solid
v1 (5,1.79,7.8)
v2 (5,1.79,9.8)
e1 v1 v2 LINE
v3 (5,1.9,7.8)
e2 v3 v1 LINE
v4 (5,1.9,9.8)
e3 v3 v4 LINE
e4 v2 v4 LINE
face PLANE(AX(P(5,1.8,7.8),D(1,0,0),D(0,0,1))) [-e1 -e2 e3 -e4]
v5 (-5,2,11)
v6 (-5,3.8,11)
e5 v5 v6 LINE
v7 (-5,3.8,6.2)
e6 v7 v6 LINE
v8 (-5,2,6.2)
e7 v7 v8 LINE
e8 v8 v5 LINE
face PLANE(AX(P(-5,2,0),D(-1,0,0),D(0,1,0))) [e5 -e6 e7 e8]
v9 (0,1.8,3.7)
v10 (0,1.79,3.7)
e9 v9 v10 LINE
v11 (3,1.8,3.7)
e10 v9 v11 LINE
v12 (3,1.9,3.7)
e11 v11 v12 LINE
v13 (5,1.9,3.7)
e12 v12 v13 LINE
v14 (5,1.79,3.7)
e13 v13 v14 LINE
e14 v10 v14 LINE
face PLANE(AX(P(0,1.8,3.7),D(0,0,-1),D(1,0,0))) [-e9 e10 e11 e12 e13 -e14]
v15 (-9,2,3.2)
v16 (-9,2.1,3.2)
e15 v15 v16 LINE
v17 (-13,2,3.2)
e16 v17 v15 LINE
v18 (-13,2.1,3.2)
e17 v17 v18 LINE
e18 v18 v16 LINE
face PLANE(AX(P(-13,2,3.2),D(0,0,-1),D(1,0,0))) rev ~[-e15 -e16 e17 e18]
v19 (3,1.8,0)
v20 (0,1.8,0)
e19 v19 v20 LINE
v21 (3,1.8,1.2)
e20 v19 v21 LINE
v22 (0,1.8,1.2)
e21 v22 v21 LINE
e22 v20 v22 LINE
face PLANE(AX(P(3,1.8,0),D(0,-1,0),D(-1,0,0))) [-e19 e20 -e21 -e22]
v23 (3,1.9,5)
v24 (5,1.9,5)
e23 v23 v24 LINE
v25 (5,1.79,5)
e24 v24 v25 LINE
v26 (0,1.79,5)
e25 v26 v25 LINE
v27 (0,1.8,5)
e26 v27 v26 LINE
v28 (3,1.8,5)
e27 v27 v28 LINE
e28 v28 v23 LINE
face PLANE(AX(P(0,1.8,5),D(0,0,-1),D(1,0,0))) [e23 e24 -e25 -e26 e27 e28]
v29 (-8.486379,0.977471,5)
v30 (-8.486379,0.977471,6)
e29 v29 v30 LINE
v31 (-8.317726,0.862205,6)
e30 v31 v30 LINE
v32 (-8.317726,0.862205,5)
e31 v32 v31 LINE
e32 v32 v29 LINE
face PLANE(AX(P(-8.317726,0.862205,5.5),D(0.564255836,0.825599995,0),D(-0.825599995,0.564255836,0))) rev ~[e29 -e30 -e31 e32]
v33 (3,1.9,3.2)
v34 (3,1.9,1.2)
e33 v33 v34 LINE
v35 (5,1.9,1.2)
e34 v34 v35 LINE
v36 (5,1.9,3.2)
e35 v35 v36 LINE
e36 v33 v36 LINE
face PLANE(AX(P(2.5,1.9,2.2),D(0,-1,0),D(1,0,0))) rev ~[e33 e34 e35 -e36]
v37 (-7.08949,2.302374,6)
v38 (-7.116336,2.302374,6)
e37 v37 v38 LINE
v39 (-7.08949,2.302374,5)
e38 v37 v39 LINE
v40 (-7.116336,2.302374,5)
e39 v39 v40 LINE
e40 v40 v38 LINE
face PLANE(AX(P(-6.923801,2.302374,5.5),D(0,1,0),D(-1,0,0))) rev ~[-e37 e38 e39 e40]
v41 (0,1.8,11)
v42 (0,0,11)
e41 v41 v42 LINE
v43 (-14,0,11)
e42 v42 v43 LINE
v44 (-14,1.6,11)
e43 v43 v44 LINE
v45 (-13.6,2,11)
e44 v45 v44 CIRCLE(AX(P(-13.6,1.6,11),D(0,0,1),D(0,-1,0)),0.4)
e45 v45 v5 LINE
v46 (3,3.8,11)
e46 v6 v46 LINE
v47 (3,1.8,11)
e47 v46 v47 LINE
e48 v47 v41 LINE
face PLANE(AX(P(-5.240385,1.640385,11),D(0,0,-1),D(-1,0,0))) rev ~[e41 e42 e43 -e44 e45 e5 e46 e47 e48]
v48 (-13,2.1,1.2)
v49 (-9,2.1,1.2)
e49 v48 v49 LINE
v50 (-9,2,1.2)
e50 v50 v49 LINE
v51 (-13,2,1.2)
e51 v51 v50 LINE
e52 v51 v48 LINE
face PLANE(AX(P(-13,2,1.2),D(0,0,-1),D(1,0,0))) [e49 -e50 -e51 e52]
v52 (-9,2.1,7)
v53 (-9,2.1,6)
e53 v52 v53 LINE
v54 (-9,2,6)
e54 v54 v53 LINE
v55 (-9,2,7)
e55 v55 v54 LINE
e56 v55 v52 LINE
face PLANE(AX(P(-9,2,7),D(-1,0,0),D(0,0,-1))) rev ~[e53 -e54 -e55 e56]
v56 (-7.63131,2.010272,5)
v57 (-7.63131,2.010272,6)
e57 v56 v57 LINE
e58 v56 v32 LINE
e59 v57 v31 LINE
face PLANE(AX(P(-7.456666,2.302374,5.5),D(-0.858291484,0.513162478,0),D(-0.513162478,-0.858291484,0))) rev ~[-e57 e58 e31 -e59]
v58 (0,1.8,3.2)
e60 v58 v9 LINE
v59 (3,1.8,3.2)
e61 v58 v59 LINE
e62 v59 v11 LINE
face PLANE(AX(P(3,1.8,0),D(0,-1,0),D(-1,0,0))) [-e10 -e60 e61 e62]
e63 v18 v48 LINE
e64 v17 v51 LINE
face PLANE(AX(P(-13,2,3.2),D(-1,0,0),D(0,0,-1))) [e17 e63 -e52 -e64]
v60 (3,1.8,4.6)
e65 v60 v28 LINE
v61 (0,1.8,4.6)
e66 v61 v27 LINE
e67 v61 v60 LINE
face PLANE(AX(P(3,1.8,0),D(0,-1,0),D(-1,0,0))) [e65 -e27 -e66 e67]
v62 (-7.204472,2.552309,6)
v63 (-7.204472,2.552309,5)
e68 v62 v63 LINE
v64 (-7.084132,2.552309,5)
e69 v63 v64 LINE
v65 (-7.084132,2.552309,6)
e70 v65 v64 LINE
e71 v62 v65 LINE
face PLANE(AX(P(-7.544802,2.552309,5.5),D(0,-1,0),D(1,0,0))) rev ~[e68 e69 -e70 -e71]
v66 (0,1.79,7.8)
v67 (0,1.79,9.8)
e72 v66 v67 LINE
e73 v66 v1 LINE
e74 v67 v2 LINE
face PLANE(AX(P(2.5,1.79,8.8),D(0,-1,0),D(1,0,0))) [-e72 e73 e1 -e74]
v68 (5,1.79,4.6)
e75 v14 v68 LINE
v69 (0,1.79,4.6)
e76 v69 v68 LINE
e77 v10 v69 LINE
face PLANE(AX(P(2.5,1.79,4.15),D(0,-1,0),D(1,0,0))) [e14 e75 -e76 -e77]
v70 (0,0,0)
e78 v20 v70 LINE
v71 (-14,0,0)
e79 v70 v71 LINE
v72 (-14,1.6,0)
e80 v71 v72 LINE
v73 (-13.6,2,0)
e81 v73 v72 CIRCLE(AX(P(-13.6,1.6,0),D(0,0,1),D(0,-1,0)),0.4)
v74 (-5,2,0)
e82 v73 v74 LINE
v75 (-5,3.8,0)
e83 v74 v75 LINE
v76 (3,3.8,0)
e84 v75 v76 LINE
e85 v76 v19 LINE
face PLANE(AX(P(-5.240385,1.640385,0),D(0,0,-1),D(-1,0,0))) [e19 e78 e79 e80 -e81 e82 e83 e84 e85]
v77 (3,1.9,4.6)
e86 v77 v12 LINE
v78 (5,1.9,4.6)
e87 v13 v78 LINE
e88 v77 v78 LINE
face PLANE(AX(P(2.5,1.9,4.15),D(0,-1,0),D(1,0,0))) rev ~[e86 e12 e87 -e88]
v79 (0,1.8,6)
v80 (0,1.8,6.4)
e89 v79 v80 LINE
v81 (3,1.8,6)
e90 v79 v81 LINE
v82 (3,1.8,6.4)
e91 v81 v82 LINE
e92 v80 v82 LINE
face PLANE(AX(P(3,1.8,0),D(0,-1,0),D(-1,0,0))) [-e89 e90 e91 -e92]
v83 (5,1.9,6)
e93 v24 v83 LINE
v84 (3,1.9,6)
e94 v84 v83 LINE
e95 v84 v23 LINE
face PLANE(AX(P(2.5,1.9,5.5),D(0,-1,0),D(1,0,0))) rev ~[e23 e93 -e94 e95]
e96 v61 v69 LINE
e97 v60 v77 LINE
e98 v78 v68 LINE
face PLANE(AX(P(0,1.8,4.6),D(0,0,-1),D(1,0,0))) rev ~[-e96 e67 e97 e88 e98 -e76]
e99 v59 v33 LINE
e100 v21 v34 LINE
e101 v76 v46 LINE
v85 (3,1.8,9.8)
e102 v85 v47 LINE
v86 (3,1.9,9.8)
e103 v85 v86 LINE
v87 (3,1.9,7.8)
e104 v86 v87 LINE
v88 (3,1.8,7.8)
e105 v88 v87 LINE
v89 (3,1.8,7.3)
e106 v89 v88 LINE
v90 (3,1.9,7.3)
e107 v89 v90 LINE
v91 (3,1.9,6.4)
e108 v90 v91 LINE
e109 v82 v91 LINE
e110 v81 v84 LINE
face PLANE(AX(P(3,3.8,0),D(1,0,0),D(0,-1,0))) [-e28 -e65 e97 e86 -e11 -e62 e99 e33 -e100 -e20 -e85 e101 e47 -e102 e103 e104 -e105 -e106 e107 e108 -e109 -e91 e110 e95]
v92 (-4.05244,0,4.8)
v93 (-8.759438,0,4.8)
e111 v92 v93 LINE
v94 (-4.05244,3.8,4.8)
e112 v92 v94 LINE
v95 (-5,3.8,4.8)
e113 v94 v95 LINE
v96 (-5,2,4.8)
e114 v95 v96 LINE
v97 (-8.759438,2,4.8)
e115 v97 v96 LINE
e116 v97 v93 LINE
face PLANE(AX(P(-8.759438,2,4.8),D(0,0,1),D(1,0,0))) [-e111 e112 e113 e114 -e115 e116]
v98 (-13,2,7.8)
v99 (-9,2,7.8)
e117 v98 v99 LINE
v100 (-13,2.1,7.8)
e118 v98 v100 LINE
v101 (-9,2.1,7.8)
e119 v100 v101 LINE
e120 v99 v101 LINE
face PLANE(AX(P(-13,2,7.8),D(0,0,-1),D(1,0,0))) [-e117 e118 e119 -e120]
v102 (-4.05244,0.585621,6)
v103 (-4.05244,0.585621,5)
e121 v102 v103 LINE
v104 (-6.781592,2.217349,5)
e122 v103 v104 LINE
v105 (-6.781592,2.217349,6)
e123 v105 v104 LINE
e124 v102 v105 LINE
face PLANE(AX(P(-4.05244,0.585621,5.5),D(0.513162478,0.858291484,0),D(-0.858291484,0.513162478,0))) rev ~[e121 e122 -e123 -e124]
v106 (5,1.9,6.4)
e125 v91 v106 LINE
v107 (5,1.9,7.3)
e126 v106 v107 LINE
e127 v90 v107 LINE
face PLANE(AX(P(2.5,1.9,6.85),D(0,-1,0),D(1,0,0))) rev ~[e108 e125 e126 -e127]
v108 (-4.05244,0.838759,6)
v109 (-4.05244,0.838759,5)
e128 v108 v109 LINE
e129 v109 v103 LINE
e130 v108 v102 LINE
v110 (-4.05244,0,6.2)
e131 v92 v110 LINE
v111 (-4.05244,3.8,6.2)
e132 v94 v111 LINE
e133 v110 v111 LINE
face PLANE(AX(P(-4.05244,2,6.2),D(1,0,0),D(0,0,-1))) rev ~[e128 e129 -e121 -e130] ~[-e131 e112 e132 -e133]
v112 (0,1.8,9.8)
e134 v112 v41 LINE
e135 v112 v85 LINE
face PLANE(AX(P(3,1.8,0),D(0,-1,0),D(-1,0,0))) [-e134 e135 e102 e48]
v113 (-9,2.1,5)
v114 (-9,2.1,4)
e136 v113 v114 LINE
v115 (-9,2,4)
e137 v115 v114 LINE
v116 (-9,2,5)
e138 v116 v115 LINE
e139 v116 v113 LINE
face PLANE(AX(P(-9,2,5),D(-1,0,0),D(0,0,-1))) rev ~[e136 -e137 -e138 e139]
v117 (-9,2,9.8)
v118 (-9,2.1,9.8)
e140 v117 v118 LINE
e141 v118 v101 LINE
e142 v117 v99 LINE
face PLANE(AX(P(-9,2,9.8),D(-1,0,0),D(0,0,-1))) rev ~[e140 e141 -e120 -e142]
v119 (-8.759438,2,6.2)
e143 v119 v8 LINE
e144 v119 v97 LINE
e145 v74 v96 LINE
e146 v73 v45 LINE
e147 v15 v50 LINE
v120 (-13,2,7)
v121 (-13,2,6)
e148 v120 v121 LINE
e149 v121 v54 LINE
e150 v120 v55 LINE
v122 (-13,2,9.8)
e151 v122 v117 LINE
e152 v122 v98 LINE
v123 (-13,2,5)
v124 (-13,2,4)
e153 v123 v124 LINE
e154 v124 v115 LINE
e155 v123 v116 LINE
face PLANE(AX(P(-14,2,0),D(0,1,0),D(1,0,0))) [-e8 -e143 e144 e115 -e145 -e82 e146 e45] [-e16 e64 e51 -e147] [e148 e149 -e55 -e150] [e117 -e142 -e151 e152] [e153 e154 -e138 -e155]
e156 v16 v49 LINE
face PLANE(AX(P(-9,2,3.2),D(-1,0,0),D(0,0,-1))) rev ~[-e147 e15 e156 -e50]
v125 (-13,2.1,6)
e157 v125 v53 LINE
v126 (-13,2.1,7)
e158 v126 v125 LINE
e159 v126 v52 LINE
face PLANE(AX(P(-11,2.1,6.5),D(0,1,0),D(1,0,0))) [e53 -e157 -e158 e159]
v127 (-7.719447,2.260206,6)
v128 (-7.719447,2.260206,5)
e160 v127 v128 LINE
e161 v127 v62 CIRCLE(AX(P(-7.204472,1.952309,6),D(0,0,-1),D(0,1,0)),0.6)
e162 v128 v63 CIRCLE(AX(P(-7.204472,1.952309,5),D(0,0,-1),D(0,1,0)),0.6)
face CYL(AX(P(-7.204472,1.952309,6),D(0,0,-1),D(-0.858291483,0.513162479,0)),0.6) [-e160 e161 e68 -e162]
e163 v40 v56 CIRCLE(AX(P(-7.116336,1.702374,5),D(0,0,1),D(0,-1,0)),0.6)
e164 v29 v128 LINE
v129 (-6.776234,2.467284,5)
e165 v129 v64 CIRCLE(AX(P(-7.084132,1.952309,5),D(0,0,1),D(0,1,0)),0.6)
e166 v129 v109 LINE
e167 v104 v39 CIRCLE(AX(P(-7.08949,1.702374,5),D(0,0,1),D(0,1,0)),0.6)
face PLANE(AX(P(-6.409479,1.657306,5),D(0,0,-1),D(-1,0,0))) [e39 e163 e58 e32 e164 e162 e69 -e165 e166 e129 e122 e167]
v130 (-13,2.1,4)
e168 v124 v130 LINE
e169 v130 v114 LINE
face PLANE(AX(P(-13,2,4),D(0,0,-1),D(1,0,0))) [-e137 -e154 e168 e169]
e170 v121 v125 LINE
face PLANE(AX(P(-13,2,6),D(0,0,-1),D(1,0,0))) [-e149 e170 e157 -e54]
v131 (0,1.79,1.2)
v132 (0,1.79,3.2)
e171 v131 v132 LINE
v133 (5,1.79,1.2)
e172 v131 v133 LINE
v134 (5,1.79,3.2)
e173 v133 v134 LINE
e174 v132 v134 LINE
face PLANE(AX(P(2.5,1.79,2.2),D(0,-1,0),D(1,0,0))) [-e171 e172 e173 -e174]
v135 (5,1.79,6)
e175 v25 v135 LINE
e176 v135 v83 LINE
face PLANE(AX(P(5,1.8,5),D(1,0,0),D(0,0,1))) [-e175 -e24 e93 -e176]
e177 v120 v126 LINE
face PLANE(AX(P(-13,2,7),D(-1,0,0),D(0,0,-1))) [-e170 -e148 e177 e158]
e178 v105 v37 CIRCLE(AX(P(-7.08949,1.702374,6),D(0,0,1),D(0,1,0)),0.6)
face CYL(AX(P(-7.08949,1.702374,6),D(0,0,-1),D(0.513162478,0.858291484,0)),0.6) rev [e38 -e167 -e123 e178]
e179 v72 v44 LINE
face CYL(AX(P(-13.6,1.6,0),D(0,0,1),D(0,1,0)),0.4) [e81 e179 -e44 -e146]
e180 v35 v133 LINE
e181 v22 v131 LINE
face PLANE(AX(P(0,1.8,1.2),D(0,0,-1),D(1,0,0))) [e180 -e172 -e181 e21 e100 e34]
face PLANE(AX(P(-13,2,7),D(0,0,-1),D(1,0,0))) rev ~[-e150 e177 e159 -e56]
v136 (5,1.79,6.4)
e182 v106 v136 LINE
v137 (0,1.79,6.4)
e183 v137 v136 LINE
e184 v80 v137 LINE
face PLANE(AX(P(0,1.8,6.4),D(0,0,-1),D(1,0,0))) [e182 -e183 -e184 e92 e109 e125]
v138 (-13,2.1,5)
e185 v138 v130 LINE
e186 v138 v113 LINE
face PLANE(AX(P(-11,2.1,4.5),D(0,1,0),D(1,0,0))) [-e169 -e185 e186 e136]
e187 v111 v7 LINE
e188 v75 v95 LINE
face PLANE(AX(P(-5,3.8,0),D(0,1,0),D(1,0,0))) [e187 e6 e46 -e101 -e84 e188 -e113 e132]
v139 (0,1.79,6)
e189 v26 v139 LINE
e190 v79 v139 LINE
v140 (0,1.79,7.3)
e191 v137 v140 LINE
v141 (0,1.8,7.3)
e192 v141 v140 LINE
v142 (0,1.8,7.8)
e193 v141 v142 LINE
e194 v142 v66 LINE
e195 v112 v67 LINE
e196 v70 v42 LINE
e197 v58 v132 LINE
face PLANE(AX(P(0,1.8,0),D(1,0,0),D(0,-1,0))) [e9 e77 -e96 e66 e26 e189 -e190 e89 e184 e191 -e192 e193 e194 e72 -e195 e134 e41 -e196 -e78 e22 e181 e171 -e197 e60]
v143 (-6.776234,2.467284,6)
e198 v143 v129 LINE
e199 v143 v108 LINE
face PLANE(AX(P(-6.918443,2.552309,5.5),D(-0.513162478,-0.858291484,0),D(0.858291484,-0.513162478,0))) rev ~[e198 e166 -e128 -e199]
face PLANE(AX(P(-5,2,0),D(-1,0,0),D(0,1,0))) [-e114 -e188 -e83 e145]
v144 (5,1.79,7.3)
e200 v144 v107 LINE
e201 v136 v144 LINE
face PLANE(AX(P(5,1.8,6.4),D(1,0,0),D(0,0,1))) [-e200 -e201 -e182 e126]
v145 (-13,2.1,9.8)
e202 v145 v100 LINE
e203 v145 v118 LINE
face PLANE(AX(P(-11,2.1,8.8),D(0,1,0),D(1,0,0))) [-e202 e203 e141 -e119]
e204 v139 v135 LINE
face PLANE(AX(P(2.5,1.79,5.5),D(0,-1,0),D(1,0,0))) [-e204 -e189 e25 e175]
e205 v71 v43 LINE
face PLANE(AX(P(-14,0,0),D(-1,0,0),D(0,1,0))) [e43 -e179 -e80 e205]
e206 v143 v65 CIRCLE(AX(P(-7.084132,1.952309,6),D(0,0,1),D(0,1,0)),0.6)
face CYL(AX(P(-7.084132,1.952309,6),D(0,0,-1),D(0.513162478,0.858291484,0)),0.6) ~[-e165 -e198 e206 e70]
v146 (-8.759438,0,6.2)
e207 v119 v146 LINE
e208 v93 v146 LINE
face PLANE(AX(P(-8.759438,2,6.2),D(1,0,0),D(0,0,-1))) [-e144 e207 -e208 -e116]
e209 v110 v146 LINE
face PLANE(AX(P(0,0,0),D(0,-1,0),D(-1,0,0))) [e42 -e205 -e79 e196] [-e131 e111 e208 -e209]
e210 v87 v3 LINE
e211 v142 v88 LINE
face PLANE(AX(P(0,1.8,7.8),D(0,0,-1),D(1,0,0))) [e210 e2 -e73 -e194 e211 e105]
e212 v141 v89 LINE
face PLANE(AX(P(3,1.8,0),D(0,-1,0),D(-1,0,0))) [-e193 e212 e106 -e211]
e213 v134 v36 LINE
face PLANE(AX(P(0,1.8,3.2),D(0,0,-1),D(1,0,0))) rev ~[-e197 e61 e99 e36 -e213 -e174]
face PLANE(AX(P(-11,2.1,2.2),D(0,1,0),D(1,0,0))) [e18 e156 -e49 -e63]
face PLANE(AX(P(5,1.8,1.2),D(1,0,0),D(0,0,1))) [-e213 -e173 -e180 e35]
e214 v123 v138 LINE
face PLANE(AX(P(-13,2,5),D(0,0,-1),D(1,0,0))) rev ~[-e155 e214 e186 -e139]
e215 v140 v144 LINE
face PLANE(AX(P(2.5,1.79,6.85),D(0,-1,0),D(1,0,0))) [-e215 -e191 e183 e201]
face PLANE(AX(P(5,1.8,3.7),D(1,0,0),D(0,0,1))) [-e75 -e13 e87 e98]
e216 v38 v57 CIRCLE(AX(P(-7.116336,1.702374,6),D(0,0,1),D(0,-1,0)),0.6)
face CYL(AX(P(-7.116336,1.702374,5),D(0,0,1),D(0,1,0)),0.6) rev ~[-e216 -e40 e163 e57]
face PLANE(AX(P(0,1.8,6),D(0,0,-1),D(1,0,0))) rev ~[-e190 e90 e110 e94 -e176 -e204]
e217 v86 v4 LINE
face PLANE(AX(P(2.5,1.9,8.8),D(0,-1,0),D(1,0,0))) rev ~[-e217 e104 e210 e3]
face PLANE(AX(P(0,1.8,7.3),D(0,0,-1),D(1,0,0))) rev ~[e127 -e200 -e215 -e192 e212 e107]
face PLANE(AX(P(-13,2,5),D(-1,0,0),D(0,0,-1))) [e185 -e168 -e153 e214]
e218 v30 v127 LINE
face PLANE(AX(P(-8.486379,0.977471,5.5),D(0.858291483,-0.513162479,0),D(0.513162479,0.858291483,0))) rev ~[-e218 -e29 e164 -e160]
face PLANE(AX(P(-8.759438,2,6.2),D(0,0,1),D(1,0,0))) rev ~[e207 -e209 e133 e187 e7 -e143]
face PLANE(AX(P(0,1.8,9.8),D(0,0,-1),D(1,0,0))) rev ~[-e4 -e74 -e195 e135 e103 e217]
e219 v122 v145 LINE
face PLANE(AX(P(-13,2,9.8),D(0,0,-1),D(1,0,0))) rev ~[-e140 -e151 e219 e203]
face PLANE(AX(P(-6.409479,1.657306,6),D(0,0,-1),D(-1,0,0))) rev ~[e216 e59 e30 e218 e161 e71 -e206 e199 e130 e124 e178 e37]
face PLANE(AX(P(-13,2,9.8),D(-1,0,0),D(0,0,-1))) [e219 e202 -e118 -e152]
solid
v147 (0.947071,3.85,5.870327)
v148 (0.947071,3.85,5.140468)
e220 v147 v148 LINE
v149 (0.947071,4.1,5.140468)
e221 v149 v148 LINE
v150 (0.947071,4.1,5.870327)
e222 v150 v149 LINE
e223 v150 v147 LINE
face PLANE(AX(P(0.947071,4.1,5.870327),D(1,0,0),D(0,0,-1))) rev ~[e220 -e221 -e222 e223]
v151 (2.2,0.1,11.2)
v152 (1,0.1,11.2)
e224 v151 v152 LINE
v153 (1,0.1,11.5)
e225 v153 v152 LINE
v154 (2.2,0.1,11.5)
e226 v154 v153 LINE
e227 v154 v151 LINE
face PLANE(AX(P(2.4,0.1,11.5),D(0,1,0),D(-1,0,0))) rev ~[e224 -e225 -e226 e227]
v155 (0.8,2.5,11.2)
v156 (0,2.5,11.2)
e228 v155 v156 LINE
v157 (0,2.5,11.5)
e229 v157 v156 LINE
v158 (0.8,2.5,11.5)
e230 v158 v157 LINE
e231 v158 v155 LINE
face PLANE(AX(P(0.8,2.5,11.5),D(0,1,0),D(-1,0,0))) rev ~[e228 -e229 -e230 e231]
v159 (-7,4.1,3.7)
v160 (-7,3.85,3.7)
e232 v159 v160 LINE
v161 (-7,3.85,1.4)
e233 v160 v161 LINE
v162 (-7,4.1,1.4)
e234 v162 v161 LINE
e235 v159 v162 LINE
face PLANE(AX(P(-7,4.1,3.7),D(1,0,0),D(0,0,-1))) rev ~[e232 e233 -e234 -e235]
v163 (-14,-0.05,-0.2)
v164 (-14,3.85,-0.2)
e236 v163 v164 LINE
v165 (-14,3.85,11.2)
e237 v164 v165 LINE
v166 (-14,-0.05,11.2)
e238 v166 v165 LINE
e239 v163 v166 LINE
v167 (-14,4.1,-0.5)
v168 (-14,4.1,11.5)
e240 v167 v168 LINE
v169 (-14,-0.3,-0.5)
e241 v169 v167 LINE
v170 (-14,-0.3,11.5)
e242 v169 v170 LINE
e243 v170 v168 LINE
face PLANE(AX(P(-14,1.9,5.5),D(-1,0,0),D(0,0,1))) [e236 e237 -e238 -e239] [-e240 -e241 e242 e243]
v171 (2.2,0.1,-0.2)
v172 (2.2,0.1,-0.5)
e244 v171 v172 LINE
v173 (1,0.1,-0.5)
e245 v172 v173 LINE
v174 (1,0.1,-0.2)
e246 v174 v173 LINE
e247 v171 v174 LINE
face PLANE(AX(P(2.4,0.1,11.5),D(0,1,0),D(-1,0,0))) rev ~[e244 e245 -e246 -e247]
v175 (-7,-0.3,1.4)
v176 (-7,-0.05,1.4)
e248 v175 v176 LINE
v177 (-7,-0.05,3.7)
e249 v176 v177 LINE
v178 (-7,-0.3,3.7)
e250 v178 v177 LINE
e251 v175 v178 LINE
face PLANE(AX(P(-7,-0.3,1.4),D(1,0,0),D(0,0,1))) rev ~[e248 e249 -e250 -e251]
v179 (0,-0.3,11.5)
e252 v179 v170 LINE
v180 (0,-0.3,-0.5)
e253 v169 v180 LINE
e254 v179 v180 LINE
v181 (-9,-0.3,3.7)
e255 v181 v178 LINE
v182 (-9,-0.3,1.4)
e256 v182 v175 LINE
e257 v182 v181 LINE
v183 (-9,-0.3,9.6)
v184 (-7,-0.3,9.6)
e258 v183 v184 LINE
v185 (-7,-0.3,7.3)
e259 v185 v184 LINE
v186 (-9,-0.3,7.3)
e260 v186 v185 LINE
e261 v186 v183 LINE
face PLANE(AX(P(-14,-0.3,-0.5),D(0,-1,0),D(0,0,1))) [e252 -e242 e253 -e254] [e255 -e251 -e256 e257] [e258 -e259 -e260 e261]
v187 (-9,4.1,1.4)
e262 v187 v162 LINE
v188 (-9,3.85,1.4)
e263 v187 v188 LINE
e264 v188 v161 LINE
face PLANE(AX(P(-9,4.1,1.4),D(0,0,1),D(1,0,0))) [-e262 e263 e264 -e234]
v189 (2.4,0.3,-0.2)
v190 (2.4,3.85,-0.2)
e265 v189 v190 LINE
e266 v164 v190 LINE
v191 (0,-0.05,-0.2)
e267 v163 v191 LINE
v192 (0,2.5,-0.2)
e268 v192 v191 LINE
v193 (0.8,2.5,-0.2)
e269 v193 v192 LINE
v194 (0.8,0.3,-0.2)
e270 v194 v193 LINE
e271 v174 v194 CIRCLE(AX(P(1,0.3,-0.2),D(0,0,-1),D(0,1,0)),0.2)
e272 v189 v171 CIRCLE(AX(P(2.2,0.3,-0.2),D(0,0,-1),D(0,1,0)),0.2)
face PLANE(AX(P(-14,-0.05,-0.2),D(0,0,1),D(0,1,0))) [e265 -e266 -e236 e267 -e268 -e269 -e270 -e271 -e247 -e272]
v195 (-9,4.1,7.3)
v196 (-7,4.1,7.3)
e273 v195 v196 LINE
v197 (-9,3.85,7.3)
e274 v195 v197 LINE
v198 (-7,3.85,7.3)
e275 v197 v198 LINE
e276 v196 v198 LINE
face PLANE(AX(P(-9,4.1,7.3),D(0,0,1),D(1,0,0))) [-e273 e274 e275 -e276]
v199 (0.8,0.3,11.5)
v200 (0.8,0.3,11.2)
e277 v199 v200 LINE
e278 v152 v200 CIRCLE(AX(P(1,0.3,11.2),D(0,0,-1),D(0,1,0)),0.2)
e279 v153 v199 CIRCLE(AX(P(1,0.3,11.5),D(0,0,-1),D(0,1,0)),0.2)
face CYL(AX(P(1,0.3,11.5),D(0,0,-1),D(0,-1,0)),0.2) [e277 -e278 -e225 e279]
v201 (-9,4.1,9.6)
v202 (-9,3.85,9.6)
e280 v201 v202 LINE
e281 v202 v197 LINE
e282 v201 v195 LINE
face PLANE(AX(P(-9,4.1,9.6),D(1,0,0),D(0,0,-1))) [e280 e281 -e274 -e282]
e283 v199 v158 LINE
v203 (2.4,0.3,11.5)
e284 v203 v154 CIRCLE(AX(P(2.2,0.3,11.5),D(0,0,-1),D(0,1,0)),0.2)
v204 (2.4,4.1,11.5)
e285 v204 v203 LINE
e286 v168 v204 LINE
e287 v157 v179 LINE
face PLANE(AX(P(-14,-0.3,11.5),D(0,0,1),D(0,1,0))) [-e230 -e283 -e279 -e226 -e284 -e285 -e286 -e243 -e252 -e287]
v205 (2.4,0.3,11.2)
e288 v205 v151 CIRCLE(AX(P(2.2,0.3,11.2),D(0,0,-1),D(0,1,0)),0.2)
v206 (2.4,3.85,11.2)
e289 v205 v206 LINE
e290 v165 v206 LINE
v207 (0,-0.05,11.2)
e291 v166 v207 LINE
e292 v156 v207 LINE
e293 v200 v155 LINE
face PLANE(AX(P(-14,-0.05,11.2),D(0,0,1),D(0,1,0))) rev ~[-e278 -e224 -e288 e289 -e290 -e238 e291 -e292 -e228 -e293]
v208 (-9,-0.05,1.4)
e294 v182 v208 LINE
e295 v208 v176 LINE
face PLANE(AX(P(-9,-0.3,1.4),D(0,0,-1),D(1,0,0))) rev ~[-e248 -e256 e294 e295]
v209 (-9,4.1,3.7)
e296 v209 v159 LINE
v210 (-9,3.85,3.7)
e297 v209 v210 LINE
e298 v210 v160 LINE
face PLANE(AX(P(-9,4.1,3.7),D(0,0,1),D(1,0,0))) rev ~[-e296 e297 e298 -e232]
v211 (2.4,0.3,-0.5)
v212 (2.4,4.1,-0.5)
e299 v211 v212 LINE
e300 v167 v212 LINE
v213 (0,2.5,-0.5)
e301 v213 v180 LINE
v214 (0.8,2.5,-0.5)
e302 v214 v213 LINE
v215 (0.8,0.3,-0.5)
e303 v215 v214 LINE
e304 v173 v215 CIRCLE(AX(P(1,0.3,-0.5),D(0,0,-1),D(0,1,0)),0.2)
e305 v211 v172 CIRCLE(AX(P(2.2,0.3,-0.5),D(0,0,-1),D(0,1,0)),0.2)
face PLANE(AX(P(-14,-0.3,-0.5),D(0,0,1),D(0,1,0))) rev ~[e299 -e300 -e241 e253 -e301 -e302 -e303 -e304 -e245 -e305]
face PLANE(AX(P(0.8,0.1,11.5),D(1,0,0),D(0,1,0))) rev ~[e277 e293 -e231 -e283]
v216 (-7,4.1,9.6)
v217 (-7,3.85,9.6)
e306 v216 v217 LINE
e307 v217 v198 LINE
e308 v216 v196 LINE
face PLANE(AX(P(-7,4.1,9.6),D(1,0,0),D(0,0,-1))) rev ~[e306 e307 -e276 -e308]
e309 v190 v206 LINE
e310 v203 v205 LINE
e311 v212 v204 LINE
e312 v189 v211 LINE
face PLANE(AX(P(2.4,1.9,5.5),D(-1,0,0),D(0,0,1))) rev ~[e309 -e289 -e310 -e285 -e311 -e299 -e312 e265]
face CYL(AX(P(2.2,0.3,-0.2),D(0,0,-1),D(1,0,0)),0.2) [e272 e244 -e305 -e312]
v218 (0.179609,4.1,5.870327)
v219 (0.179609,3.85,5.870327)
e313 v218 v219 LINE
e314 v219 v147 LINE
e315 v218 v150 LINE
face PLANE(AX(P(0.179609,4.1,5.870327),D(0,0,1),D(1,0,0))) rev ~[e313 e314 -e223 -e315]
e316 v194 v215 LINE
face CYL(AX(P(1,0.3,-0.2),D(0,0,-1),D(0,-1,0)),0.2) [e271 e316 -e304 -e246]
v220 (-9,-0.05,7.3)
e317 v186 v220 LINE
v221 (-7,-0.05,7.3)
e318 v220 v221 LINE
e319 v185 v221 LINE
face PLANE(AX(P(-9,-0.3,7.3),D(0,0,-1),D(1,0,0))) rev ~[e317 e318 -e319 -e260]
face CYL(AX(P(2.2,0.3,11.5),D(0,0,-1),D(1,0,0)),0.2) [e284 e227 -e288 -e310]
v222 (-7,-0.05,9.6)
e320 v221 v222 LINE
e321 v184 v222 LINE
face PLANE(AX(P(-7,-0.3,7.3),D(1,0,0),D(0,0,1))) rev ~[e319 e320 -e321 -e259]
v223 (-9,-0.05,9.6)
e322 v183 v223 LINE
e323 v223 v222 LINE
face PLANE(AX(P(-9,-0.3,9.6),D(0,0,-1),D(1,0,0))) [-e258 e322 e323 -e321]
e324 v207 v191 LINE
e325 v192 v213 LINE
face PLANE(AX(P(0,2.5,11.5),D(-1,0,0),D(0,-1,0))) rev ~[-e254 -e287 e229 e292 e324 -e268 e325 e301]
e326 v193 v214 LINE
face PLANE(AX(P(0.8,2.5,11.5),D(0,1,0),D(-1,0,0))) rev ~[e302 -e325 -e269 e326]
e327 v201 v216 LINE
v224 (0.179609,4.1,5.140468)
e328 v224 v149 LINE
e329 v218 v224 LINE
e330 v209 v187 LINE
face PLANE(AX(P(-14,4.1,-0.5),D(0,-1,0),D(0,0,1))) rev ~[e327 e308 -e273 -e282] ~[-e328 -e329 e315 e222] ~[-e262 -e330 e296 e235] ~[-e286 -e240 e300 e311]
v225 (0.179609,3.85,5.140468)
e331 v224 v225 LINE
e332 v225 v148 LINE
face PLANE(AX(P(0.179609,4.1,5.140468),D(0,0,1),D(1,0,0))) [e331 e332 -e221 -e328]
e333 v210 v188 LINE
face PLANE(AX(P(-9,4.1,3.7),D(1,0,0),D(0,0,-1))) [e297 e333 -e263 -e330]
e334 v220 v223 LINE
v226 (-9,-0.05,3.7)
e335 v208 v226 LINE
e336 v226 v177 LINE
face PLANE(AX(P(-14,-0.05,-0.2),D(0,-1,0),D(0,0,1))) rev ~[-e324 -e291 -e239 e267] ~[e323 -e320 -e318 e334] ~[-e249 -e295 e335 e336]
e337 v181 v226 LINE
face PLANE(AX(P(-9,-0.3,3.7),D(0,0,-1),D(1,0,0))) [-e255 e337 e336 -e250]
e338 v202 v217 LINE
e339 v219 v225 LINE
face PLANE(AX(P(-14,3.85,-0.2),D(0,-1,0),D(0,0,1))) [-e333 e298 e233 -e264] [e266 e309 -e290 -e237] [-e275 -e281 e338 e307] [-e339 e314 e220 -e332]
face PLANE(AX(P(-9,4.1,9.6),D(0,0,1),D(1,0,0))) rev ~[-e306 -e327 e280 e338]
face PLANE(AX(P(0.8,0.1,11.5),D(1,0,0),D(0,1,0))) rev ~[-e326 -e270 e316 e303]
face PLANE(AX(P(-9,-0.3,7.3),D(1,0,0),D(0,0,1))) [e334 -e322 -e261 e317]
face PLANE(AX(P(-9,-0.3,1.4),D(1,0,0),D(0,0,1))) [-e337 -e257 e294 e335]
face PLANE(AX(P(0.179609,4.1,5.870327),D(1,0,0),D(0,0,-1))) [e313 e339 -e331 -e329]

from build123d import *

# Parameters (mm, degrees)
EXTRUDE_1_DEPTH          = 11
SKETCH_3_W               = 4
SKETCH_3_H               = 1
SKETCH_3_H_2             = 2
EXTRUDE_2_DEPTH          = 0.1
SKETCH_5_W               = 4.70699789
SKETCH_5_H               = 1.4
CUT_EXTRUDE_2_DEPTH      = 2.8
CUT_EXTRUDE_2_DEPTH_BACK = 3
EXTRUDE_3_DEPTH          = 0.5
FILLET_1_R               = 0.6
SKETCH_6_W               = 5
SKETCH_6_H               = 0.9
SKETCH_6_H_2             = 2
SKETCH_6_H_3             = 1
EXTRUDE_4_DEPTH          = 0.01
EXTRUDE_4_DEPTH_BACK     = 0.1
FILLET_2_R               = 0.4
SKETCH_8_W               = 12
SKETCH_8_H               = 4.4
SKETCH_8_W_2             = 11.4
SKETCH_8_H_2             = 3.9
EXTRUDE_5_DEPTH          = 16.4
SKETCH_9_W               = 2
SKETCH_9_H               = 2.3
SKETCH_9_W_2             = 0.767462698
SKETCH_9_H_2             = 0.729858924
CUT_EXTRUDE_5_DEPTH      = 0.25
SKETCH_12_W              = 2
SKETCH_12_H              = 2.3
CUT_EXTRUDE_6_DEPTH      = 0.25
CUT_EXTRUDE_7_DEPTH      = 1
CUT_EXTRUDE_7_DEPTH_BACK = 13
FILLET_4_R               = 0.2


with BuildPart() as part:
    # 草图2 → 凸台-拉伸1 (new body)
    with BuildSketch(Plane.XY):
        Polygon((0, 0), (-14, 0), (-14, 2), (-5, 2), (-5, 3.8), (3, 3.8), (3, 1.8), (0, 1.8), align=None)
    extrude(amount=EXTRUDE_1_DEPTH)

    # 草图3 → 凸台-拉伸2 (add)
    with BuildSketch(Plane(origin=(0, 2, 0), x_dir=(1, 0, 0), z_dir=(0, 1, 0))):
        with Locations((-11, -6.5)):
            Rectangle(SKETCH_3_W, SKETCH_3_H)
        with Locations((-11, -8.8)):
            Rectangle(SKETCH_3_W, SKETCH_3_H_2)
        with Locations((-11, -4.5)):
            Rectangle(SKETCH_3_W, SKETCH_3_H)
        with Locations((-11, -2.2)):
            Rectangle(SKETCH_3_W, SKETCH_3_H_2)
    extrude(amount=EXTRUDE_2_DEPTH)

    # 草图5 → 切除-拉伸2 (cut, two sides)
    with BuildSketch(Plane(origin=(0, 2, 0), x_dir=(1, 0, 0), z_dir=(0, 1, 0))) as cut_extrude_2_sk:
        with Locations((-6.40593933, -5.5)):
            Rectangle(SKETCH_5_W, SKETCH_5_H)
    extrude(amount=CUT_EXTRUDE_2_DEPTH, mode=Mode.SUBTRACT)
    extrude(cut_extrude_2_sk.sketch, amount=-CUT_EXTRUDE_2_DEPTH_BACK, mode=Mode.SUBTRACT)

    # 草图4 → 凸台-拉伸3 (add, symmetric)
    with BuildSketch(Plane.XY.offset(5.5)):
        Polygon((-8.486379068, 0.97747076), (-7.544801814, 2.552308695), (-6.918443353, 2.552308695), (-4.052440385, 0.838758912), (-4.052440385, 0.585620875), (-6.92380134, 2.302374137), (-7.456665732, 2.302374137), (-8.317726091, 0.862204981), align=None)
    extrude(amount=EXTRUDE_3_DEPTH, both=True)

    # 圆角1
    fillet_1_edges = [part.edges().sort_by_distance(p)[0] for p in [
        (-6.918443353, 2.552308695, 5.5),
        (-7.544801814, 2.552308695, 5.5),
        (-7.456665732, 2.302374137, 5.5),
        (-6.92380134, 2.302374137, 5.5),
    ]]
    fillet(fillet_1_edges, radius=FILLET_1_R)

    # 草图6 → 凸台-拉伸4 (add, two sides)
    with BuildSketch(Plane.XZ.offset(-1.8)) as extrude_4_sk:
        with Locations((2.5, 4.15)):
            Rectangle(SKETCH_6_W, SKETCH_6_H)
        with Locations((2.5, 8.8)):
            Rectangle(SKETCH_6_W, SKETCH_6_H_2)
        with Locations((2.5, 6.85)):
            Rectangle(SKETCH_6_W, SKETCH_6_H)
        with Locations((2.5, 2.2)):
            Rectangle(SKETCH_6_W, SKETCH_6_H_2)
        with Locations((2.5, 5.5)):
            Rectangle(SKETCH_6_W, SKETCH_6_H_3)
    extrude(amount=EXTRUDE_4_DEPTH)
    extrude(extrude_4_sk.sketch, amount=-EXTRUDE_4_DEPTH_BACK)

    # 圆角2
    fillet_2_edges = [part.edges().sort_by_distance(p)[0] for p in [
        (-14, 2, 5.5),
    ]]
    fillet(fillet_2_edges, radius=FILLET_2_R)


with BuildPart() as body_2:
    # 草图8 → 凸台-拉伸5 (new body)
    with BuildSketch(Plane.ZY.offset(14)):
        with Locations((5.5, 1.9)):
            Rectangle(SKETCH_8_W, SKETCH_8_H)
        with Locations((5.5, 1.9)):
            Rectangle(SKETCH_8_W_2, SKETCH_8_H_2, mode=Mode.SUBTRACT)
    extrude(amount=-EXTRUDE_5_DEPTH)

    # 草图9 → 切除-拉伸5 (cut)
    with BuildSketch(Plane(origin=(0, 4.1, 0), x_dir=(1, 0, 0), z_dir=(0, 1, 0))):
        with Locations((-8, -2.55)):
            Rectangle(SKETCH_9_W, SKETCH_9_H)
        with Locations((-8, -8.45)):
            Rectangle(SKETCH_9_W, SKETCH_9_H)
        with Locations((0.563339888, -5.505397464)):
            Rectangle(SKETCH_9_W_2, SKETCH_9_H_2)
    extrude(amount=-CUT_EXTRUDE_5_DEPTH, mode=Mode.SUBTRACT)

    # 草图12 → 切除-拉伸6 (cut)
    with BuildSketch(Plane.XZ.offset(0.3)):
        with Locations((-8, 8.45)):
            Rectangle(SKETCH_12_W, SKETCH_12_H)
        with Locations((-8, 2.55)):
            Rectangle(SKETCH_12_W, SKETCH_12_H)
    extrude(amount=-CUT_EXTRUDE_6_DEPTH, mode=Mode.SUBTRACT)

    # 草图13 → 切除-拉伸7 (cut, two sides)
    with BuildSketch(Plane.XY.offset(11.5)) as cut_extrude_7_sk:
        Polygon((2.4, 0.1), (0.8, 0.1), (0.8, 2.5), (0, 2.5), (0, -0.781778745), (2.4, -0.781778745), align=None)
    extrude(amount=CUT_EXTRUDE_7_DEPTH, mode=Mode.SUBTRACT)
    extrude(cut_extrude_7_sk.sketch, amount=-CUT_EXTRUDE_7_DEPTH_BACK, mode=Mode.SUBTRACT)

    # 圆角4
    fillet_4_edges = [body_2.edges().sort_by_distance(p)[0] for p in [
        (0.8, 0.1, -0.35),
        (0.8, 0.1, 11.35),
        (2.4, 0.1, -0.35),
        (2.4, 0.1, 11.35),
    ]]
    fillet(fillet_4_edges, radius=FILLET_4_R)


solid = Compound([part.part, body_2.part])
